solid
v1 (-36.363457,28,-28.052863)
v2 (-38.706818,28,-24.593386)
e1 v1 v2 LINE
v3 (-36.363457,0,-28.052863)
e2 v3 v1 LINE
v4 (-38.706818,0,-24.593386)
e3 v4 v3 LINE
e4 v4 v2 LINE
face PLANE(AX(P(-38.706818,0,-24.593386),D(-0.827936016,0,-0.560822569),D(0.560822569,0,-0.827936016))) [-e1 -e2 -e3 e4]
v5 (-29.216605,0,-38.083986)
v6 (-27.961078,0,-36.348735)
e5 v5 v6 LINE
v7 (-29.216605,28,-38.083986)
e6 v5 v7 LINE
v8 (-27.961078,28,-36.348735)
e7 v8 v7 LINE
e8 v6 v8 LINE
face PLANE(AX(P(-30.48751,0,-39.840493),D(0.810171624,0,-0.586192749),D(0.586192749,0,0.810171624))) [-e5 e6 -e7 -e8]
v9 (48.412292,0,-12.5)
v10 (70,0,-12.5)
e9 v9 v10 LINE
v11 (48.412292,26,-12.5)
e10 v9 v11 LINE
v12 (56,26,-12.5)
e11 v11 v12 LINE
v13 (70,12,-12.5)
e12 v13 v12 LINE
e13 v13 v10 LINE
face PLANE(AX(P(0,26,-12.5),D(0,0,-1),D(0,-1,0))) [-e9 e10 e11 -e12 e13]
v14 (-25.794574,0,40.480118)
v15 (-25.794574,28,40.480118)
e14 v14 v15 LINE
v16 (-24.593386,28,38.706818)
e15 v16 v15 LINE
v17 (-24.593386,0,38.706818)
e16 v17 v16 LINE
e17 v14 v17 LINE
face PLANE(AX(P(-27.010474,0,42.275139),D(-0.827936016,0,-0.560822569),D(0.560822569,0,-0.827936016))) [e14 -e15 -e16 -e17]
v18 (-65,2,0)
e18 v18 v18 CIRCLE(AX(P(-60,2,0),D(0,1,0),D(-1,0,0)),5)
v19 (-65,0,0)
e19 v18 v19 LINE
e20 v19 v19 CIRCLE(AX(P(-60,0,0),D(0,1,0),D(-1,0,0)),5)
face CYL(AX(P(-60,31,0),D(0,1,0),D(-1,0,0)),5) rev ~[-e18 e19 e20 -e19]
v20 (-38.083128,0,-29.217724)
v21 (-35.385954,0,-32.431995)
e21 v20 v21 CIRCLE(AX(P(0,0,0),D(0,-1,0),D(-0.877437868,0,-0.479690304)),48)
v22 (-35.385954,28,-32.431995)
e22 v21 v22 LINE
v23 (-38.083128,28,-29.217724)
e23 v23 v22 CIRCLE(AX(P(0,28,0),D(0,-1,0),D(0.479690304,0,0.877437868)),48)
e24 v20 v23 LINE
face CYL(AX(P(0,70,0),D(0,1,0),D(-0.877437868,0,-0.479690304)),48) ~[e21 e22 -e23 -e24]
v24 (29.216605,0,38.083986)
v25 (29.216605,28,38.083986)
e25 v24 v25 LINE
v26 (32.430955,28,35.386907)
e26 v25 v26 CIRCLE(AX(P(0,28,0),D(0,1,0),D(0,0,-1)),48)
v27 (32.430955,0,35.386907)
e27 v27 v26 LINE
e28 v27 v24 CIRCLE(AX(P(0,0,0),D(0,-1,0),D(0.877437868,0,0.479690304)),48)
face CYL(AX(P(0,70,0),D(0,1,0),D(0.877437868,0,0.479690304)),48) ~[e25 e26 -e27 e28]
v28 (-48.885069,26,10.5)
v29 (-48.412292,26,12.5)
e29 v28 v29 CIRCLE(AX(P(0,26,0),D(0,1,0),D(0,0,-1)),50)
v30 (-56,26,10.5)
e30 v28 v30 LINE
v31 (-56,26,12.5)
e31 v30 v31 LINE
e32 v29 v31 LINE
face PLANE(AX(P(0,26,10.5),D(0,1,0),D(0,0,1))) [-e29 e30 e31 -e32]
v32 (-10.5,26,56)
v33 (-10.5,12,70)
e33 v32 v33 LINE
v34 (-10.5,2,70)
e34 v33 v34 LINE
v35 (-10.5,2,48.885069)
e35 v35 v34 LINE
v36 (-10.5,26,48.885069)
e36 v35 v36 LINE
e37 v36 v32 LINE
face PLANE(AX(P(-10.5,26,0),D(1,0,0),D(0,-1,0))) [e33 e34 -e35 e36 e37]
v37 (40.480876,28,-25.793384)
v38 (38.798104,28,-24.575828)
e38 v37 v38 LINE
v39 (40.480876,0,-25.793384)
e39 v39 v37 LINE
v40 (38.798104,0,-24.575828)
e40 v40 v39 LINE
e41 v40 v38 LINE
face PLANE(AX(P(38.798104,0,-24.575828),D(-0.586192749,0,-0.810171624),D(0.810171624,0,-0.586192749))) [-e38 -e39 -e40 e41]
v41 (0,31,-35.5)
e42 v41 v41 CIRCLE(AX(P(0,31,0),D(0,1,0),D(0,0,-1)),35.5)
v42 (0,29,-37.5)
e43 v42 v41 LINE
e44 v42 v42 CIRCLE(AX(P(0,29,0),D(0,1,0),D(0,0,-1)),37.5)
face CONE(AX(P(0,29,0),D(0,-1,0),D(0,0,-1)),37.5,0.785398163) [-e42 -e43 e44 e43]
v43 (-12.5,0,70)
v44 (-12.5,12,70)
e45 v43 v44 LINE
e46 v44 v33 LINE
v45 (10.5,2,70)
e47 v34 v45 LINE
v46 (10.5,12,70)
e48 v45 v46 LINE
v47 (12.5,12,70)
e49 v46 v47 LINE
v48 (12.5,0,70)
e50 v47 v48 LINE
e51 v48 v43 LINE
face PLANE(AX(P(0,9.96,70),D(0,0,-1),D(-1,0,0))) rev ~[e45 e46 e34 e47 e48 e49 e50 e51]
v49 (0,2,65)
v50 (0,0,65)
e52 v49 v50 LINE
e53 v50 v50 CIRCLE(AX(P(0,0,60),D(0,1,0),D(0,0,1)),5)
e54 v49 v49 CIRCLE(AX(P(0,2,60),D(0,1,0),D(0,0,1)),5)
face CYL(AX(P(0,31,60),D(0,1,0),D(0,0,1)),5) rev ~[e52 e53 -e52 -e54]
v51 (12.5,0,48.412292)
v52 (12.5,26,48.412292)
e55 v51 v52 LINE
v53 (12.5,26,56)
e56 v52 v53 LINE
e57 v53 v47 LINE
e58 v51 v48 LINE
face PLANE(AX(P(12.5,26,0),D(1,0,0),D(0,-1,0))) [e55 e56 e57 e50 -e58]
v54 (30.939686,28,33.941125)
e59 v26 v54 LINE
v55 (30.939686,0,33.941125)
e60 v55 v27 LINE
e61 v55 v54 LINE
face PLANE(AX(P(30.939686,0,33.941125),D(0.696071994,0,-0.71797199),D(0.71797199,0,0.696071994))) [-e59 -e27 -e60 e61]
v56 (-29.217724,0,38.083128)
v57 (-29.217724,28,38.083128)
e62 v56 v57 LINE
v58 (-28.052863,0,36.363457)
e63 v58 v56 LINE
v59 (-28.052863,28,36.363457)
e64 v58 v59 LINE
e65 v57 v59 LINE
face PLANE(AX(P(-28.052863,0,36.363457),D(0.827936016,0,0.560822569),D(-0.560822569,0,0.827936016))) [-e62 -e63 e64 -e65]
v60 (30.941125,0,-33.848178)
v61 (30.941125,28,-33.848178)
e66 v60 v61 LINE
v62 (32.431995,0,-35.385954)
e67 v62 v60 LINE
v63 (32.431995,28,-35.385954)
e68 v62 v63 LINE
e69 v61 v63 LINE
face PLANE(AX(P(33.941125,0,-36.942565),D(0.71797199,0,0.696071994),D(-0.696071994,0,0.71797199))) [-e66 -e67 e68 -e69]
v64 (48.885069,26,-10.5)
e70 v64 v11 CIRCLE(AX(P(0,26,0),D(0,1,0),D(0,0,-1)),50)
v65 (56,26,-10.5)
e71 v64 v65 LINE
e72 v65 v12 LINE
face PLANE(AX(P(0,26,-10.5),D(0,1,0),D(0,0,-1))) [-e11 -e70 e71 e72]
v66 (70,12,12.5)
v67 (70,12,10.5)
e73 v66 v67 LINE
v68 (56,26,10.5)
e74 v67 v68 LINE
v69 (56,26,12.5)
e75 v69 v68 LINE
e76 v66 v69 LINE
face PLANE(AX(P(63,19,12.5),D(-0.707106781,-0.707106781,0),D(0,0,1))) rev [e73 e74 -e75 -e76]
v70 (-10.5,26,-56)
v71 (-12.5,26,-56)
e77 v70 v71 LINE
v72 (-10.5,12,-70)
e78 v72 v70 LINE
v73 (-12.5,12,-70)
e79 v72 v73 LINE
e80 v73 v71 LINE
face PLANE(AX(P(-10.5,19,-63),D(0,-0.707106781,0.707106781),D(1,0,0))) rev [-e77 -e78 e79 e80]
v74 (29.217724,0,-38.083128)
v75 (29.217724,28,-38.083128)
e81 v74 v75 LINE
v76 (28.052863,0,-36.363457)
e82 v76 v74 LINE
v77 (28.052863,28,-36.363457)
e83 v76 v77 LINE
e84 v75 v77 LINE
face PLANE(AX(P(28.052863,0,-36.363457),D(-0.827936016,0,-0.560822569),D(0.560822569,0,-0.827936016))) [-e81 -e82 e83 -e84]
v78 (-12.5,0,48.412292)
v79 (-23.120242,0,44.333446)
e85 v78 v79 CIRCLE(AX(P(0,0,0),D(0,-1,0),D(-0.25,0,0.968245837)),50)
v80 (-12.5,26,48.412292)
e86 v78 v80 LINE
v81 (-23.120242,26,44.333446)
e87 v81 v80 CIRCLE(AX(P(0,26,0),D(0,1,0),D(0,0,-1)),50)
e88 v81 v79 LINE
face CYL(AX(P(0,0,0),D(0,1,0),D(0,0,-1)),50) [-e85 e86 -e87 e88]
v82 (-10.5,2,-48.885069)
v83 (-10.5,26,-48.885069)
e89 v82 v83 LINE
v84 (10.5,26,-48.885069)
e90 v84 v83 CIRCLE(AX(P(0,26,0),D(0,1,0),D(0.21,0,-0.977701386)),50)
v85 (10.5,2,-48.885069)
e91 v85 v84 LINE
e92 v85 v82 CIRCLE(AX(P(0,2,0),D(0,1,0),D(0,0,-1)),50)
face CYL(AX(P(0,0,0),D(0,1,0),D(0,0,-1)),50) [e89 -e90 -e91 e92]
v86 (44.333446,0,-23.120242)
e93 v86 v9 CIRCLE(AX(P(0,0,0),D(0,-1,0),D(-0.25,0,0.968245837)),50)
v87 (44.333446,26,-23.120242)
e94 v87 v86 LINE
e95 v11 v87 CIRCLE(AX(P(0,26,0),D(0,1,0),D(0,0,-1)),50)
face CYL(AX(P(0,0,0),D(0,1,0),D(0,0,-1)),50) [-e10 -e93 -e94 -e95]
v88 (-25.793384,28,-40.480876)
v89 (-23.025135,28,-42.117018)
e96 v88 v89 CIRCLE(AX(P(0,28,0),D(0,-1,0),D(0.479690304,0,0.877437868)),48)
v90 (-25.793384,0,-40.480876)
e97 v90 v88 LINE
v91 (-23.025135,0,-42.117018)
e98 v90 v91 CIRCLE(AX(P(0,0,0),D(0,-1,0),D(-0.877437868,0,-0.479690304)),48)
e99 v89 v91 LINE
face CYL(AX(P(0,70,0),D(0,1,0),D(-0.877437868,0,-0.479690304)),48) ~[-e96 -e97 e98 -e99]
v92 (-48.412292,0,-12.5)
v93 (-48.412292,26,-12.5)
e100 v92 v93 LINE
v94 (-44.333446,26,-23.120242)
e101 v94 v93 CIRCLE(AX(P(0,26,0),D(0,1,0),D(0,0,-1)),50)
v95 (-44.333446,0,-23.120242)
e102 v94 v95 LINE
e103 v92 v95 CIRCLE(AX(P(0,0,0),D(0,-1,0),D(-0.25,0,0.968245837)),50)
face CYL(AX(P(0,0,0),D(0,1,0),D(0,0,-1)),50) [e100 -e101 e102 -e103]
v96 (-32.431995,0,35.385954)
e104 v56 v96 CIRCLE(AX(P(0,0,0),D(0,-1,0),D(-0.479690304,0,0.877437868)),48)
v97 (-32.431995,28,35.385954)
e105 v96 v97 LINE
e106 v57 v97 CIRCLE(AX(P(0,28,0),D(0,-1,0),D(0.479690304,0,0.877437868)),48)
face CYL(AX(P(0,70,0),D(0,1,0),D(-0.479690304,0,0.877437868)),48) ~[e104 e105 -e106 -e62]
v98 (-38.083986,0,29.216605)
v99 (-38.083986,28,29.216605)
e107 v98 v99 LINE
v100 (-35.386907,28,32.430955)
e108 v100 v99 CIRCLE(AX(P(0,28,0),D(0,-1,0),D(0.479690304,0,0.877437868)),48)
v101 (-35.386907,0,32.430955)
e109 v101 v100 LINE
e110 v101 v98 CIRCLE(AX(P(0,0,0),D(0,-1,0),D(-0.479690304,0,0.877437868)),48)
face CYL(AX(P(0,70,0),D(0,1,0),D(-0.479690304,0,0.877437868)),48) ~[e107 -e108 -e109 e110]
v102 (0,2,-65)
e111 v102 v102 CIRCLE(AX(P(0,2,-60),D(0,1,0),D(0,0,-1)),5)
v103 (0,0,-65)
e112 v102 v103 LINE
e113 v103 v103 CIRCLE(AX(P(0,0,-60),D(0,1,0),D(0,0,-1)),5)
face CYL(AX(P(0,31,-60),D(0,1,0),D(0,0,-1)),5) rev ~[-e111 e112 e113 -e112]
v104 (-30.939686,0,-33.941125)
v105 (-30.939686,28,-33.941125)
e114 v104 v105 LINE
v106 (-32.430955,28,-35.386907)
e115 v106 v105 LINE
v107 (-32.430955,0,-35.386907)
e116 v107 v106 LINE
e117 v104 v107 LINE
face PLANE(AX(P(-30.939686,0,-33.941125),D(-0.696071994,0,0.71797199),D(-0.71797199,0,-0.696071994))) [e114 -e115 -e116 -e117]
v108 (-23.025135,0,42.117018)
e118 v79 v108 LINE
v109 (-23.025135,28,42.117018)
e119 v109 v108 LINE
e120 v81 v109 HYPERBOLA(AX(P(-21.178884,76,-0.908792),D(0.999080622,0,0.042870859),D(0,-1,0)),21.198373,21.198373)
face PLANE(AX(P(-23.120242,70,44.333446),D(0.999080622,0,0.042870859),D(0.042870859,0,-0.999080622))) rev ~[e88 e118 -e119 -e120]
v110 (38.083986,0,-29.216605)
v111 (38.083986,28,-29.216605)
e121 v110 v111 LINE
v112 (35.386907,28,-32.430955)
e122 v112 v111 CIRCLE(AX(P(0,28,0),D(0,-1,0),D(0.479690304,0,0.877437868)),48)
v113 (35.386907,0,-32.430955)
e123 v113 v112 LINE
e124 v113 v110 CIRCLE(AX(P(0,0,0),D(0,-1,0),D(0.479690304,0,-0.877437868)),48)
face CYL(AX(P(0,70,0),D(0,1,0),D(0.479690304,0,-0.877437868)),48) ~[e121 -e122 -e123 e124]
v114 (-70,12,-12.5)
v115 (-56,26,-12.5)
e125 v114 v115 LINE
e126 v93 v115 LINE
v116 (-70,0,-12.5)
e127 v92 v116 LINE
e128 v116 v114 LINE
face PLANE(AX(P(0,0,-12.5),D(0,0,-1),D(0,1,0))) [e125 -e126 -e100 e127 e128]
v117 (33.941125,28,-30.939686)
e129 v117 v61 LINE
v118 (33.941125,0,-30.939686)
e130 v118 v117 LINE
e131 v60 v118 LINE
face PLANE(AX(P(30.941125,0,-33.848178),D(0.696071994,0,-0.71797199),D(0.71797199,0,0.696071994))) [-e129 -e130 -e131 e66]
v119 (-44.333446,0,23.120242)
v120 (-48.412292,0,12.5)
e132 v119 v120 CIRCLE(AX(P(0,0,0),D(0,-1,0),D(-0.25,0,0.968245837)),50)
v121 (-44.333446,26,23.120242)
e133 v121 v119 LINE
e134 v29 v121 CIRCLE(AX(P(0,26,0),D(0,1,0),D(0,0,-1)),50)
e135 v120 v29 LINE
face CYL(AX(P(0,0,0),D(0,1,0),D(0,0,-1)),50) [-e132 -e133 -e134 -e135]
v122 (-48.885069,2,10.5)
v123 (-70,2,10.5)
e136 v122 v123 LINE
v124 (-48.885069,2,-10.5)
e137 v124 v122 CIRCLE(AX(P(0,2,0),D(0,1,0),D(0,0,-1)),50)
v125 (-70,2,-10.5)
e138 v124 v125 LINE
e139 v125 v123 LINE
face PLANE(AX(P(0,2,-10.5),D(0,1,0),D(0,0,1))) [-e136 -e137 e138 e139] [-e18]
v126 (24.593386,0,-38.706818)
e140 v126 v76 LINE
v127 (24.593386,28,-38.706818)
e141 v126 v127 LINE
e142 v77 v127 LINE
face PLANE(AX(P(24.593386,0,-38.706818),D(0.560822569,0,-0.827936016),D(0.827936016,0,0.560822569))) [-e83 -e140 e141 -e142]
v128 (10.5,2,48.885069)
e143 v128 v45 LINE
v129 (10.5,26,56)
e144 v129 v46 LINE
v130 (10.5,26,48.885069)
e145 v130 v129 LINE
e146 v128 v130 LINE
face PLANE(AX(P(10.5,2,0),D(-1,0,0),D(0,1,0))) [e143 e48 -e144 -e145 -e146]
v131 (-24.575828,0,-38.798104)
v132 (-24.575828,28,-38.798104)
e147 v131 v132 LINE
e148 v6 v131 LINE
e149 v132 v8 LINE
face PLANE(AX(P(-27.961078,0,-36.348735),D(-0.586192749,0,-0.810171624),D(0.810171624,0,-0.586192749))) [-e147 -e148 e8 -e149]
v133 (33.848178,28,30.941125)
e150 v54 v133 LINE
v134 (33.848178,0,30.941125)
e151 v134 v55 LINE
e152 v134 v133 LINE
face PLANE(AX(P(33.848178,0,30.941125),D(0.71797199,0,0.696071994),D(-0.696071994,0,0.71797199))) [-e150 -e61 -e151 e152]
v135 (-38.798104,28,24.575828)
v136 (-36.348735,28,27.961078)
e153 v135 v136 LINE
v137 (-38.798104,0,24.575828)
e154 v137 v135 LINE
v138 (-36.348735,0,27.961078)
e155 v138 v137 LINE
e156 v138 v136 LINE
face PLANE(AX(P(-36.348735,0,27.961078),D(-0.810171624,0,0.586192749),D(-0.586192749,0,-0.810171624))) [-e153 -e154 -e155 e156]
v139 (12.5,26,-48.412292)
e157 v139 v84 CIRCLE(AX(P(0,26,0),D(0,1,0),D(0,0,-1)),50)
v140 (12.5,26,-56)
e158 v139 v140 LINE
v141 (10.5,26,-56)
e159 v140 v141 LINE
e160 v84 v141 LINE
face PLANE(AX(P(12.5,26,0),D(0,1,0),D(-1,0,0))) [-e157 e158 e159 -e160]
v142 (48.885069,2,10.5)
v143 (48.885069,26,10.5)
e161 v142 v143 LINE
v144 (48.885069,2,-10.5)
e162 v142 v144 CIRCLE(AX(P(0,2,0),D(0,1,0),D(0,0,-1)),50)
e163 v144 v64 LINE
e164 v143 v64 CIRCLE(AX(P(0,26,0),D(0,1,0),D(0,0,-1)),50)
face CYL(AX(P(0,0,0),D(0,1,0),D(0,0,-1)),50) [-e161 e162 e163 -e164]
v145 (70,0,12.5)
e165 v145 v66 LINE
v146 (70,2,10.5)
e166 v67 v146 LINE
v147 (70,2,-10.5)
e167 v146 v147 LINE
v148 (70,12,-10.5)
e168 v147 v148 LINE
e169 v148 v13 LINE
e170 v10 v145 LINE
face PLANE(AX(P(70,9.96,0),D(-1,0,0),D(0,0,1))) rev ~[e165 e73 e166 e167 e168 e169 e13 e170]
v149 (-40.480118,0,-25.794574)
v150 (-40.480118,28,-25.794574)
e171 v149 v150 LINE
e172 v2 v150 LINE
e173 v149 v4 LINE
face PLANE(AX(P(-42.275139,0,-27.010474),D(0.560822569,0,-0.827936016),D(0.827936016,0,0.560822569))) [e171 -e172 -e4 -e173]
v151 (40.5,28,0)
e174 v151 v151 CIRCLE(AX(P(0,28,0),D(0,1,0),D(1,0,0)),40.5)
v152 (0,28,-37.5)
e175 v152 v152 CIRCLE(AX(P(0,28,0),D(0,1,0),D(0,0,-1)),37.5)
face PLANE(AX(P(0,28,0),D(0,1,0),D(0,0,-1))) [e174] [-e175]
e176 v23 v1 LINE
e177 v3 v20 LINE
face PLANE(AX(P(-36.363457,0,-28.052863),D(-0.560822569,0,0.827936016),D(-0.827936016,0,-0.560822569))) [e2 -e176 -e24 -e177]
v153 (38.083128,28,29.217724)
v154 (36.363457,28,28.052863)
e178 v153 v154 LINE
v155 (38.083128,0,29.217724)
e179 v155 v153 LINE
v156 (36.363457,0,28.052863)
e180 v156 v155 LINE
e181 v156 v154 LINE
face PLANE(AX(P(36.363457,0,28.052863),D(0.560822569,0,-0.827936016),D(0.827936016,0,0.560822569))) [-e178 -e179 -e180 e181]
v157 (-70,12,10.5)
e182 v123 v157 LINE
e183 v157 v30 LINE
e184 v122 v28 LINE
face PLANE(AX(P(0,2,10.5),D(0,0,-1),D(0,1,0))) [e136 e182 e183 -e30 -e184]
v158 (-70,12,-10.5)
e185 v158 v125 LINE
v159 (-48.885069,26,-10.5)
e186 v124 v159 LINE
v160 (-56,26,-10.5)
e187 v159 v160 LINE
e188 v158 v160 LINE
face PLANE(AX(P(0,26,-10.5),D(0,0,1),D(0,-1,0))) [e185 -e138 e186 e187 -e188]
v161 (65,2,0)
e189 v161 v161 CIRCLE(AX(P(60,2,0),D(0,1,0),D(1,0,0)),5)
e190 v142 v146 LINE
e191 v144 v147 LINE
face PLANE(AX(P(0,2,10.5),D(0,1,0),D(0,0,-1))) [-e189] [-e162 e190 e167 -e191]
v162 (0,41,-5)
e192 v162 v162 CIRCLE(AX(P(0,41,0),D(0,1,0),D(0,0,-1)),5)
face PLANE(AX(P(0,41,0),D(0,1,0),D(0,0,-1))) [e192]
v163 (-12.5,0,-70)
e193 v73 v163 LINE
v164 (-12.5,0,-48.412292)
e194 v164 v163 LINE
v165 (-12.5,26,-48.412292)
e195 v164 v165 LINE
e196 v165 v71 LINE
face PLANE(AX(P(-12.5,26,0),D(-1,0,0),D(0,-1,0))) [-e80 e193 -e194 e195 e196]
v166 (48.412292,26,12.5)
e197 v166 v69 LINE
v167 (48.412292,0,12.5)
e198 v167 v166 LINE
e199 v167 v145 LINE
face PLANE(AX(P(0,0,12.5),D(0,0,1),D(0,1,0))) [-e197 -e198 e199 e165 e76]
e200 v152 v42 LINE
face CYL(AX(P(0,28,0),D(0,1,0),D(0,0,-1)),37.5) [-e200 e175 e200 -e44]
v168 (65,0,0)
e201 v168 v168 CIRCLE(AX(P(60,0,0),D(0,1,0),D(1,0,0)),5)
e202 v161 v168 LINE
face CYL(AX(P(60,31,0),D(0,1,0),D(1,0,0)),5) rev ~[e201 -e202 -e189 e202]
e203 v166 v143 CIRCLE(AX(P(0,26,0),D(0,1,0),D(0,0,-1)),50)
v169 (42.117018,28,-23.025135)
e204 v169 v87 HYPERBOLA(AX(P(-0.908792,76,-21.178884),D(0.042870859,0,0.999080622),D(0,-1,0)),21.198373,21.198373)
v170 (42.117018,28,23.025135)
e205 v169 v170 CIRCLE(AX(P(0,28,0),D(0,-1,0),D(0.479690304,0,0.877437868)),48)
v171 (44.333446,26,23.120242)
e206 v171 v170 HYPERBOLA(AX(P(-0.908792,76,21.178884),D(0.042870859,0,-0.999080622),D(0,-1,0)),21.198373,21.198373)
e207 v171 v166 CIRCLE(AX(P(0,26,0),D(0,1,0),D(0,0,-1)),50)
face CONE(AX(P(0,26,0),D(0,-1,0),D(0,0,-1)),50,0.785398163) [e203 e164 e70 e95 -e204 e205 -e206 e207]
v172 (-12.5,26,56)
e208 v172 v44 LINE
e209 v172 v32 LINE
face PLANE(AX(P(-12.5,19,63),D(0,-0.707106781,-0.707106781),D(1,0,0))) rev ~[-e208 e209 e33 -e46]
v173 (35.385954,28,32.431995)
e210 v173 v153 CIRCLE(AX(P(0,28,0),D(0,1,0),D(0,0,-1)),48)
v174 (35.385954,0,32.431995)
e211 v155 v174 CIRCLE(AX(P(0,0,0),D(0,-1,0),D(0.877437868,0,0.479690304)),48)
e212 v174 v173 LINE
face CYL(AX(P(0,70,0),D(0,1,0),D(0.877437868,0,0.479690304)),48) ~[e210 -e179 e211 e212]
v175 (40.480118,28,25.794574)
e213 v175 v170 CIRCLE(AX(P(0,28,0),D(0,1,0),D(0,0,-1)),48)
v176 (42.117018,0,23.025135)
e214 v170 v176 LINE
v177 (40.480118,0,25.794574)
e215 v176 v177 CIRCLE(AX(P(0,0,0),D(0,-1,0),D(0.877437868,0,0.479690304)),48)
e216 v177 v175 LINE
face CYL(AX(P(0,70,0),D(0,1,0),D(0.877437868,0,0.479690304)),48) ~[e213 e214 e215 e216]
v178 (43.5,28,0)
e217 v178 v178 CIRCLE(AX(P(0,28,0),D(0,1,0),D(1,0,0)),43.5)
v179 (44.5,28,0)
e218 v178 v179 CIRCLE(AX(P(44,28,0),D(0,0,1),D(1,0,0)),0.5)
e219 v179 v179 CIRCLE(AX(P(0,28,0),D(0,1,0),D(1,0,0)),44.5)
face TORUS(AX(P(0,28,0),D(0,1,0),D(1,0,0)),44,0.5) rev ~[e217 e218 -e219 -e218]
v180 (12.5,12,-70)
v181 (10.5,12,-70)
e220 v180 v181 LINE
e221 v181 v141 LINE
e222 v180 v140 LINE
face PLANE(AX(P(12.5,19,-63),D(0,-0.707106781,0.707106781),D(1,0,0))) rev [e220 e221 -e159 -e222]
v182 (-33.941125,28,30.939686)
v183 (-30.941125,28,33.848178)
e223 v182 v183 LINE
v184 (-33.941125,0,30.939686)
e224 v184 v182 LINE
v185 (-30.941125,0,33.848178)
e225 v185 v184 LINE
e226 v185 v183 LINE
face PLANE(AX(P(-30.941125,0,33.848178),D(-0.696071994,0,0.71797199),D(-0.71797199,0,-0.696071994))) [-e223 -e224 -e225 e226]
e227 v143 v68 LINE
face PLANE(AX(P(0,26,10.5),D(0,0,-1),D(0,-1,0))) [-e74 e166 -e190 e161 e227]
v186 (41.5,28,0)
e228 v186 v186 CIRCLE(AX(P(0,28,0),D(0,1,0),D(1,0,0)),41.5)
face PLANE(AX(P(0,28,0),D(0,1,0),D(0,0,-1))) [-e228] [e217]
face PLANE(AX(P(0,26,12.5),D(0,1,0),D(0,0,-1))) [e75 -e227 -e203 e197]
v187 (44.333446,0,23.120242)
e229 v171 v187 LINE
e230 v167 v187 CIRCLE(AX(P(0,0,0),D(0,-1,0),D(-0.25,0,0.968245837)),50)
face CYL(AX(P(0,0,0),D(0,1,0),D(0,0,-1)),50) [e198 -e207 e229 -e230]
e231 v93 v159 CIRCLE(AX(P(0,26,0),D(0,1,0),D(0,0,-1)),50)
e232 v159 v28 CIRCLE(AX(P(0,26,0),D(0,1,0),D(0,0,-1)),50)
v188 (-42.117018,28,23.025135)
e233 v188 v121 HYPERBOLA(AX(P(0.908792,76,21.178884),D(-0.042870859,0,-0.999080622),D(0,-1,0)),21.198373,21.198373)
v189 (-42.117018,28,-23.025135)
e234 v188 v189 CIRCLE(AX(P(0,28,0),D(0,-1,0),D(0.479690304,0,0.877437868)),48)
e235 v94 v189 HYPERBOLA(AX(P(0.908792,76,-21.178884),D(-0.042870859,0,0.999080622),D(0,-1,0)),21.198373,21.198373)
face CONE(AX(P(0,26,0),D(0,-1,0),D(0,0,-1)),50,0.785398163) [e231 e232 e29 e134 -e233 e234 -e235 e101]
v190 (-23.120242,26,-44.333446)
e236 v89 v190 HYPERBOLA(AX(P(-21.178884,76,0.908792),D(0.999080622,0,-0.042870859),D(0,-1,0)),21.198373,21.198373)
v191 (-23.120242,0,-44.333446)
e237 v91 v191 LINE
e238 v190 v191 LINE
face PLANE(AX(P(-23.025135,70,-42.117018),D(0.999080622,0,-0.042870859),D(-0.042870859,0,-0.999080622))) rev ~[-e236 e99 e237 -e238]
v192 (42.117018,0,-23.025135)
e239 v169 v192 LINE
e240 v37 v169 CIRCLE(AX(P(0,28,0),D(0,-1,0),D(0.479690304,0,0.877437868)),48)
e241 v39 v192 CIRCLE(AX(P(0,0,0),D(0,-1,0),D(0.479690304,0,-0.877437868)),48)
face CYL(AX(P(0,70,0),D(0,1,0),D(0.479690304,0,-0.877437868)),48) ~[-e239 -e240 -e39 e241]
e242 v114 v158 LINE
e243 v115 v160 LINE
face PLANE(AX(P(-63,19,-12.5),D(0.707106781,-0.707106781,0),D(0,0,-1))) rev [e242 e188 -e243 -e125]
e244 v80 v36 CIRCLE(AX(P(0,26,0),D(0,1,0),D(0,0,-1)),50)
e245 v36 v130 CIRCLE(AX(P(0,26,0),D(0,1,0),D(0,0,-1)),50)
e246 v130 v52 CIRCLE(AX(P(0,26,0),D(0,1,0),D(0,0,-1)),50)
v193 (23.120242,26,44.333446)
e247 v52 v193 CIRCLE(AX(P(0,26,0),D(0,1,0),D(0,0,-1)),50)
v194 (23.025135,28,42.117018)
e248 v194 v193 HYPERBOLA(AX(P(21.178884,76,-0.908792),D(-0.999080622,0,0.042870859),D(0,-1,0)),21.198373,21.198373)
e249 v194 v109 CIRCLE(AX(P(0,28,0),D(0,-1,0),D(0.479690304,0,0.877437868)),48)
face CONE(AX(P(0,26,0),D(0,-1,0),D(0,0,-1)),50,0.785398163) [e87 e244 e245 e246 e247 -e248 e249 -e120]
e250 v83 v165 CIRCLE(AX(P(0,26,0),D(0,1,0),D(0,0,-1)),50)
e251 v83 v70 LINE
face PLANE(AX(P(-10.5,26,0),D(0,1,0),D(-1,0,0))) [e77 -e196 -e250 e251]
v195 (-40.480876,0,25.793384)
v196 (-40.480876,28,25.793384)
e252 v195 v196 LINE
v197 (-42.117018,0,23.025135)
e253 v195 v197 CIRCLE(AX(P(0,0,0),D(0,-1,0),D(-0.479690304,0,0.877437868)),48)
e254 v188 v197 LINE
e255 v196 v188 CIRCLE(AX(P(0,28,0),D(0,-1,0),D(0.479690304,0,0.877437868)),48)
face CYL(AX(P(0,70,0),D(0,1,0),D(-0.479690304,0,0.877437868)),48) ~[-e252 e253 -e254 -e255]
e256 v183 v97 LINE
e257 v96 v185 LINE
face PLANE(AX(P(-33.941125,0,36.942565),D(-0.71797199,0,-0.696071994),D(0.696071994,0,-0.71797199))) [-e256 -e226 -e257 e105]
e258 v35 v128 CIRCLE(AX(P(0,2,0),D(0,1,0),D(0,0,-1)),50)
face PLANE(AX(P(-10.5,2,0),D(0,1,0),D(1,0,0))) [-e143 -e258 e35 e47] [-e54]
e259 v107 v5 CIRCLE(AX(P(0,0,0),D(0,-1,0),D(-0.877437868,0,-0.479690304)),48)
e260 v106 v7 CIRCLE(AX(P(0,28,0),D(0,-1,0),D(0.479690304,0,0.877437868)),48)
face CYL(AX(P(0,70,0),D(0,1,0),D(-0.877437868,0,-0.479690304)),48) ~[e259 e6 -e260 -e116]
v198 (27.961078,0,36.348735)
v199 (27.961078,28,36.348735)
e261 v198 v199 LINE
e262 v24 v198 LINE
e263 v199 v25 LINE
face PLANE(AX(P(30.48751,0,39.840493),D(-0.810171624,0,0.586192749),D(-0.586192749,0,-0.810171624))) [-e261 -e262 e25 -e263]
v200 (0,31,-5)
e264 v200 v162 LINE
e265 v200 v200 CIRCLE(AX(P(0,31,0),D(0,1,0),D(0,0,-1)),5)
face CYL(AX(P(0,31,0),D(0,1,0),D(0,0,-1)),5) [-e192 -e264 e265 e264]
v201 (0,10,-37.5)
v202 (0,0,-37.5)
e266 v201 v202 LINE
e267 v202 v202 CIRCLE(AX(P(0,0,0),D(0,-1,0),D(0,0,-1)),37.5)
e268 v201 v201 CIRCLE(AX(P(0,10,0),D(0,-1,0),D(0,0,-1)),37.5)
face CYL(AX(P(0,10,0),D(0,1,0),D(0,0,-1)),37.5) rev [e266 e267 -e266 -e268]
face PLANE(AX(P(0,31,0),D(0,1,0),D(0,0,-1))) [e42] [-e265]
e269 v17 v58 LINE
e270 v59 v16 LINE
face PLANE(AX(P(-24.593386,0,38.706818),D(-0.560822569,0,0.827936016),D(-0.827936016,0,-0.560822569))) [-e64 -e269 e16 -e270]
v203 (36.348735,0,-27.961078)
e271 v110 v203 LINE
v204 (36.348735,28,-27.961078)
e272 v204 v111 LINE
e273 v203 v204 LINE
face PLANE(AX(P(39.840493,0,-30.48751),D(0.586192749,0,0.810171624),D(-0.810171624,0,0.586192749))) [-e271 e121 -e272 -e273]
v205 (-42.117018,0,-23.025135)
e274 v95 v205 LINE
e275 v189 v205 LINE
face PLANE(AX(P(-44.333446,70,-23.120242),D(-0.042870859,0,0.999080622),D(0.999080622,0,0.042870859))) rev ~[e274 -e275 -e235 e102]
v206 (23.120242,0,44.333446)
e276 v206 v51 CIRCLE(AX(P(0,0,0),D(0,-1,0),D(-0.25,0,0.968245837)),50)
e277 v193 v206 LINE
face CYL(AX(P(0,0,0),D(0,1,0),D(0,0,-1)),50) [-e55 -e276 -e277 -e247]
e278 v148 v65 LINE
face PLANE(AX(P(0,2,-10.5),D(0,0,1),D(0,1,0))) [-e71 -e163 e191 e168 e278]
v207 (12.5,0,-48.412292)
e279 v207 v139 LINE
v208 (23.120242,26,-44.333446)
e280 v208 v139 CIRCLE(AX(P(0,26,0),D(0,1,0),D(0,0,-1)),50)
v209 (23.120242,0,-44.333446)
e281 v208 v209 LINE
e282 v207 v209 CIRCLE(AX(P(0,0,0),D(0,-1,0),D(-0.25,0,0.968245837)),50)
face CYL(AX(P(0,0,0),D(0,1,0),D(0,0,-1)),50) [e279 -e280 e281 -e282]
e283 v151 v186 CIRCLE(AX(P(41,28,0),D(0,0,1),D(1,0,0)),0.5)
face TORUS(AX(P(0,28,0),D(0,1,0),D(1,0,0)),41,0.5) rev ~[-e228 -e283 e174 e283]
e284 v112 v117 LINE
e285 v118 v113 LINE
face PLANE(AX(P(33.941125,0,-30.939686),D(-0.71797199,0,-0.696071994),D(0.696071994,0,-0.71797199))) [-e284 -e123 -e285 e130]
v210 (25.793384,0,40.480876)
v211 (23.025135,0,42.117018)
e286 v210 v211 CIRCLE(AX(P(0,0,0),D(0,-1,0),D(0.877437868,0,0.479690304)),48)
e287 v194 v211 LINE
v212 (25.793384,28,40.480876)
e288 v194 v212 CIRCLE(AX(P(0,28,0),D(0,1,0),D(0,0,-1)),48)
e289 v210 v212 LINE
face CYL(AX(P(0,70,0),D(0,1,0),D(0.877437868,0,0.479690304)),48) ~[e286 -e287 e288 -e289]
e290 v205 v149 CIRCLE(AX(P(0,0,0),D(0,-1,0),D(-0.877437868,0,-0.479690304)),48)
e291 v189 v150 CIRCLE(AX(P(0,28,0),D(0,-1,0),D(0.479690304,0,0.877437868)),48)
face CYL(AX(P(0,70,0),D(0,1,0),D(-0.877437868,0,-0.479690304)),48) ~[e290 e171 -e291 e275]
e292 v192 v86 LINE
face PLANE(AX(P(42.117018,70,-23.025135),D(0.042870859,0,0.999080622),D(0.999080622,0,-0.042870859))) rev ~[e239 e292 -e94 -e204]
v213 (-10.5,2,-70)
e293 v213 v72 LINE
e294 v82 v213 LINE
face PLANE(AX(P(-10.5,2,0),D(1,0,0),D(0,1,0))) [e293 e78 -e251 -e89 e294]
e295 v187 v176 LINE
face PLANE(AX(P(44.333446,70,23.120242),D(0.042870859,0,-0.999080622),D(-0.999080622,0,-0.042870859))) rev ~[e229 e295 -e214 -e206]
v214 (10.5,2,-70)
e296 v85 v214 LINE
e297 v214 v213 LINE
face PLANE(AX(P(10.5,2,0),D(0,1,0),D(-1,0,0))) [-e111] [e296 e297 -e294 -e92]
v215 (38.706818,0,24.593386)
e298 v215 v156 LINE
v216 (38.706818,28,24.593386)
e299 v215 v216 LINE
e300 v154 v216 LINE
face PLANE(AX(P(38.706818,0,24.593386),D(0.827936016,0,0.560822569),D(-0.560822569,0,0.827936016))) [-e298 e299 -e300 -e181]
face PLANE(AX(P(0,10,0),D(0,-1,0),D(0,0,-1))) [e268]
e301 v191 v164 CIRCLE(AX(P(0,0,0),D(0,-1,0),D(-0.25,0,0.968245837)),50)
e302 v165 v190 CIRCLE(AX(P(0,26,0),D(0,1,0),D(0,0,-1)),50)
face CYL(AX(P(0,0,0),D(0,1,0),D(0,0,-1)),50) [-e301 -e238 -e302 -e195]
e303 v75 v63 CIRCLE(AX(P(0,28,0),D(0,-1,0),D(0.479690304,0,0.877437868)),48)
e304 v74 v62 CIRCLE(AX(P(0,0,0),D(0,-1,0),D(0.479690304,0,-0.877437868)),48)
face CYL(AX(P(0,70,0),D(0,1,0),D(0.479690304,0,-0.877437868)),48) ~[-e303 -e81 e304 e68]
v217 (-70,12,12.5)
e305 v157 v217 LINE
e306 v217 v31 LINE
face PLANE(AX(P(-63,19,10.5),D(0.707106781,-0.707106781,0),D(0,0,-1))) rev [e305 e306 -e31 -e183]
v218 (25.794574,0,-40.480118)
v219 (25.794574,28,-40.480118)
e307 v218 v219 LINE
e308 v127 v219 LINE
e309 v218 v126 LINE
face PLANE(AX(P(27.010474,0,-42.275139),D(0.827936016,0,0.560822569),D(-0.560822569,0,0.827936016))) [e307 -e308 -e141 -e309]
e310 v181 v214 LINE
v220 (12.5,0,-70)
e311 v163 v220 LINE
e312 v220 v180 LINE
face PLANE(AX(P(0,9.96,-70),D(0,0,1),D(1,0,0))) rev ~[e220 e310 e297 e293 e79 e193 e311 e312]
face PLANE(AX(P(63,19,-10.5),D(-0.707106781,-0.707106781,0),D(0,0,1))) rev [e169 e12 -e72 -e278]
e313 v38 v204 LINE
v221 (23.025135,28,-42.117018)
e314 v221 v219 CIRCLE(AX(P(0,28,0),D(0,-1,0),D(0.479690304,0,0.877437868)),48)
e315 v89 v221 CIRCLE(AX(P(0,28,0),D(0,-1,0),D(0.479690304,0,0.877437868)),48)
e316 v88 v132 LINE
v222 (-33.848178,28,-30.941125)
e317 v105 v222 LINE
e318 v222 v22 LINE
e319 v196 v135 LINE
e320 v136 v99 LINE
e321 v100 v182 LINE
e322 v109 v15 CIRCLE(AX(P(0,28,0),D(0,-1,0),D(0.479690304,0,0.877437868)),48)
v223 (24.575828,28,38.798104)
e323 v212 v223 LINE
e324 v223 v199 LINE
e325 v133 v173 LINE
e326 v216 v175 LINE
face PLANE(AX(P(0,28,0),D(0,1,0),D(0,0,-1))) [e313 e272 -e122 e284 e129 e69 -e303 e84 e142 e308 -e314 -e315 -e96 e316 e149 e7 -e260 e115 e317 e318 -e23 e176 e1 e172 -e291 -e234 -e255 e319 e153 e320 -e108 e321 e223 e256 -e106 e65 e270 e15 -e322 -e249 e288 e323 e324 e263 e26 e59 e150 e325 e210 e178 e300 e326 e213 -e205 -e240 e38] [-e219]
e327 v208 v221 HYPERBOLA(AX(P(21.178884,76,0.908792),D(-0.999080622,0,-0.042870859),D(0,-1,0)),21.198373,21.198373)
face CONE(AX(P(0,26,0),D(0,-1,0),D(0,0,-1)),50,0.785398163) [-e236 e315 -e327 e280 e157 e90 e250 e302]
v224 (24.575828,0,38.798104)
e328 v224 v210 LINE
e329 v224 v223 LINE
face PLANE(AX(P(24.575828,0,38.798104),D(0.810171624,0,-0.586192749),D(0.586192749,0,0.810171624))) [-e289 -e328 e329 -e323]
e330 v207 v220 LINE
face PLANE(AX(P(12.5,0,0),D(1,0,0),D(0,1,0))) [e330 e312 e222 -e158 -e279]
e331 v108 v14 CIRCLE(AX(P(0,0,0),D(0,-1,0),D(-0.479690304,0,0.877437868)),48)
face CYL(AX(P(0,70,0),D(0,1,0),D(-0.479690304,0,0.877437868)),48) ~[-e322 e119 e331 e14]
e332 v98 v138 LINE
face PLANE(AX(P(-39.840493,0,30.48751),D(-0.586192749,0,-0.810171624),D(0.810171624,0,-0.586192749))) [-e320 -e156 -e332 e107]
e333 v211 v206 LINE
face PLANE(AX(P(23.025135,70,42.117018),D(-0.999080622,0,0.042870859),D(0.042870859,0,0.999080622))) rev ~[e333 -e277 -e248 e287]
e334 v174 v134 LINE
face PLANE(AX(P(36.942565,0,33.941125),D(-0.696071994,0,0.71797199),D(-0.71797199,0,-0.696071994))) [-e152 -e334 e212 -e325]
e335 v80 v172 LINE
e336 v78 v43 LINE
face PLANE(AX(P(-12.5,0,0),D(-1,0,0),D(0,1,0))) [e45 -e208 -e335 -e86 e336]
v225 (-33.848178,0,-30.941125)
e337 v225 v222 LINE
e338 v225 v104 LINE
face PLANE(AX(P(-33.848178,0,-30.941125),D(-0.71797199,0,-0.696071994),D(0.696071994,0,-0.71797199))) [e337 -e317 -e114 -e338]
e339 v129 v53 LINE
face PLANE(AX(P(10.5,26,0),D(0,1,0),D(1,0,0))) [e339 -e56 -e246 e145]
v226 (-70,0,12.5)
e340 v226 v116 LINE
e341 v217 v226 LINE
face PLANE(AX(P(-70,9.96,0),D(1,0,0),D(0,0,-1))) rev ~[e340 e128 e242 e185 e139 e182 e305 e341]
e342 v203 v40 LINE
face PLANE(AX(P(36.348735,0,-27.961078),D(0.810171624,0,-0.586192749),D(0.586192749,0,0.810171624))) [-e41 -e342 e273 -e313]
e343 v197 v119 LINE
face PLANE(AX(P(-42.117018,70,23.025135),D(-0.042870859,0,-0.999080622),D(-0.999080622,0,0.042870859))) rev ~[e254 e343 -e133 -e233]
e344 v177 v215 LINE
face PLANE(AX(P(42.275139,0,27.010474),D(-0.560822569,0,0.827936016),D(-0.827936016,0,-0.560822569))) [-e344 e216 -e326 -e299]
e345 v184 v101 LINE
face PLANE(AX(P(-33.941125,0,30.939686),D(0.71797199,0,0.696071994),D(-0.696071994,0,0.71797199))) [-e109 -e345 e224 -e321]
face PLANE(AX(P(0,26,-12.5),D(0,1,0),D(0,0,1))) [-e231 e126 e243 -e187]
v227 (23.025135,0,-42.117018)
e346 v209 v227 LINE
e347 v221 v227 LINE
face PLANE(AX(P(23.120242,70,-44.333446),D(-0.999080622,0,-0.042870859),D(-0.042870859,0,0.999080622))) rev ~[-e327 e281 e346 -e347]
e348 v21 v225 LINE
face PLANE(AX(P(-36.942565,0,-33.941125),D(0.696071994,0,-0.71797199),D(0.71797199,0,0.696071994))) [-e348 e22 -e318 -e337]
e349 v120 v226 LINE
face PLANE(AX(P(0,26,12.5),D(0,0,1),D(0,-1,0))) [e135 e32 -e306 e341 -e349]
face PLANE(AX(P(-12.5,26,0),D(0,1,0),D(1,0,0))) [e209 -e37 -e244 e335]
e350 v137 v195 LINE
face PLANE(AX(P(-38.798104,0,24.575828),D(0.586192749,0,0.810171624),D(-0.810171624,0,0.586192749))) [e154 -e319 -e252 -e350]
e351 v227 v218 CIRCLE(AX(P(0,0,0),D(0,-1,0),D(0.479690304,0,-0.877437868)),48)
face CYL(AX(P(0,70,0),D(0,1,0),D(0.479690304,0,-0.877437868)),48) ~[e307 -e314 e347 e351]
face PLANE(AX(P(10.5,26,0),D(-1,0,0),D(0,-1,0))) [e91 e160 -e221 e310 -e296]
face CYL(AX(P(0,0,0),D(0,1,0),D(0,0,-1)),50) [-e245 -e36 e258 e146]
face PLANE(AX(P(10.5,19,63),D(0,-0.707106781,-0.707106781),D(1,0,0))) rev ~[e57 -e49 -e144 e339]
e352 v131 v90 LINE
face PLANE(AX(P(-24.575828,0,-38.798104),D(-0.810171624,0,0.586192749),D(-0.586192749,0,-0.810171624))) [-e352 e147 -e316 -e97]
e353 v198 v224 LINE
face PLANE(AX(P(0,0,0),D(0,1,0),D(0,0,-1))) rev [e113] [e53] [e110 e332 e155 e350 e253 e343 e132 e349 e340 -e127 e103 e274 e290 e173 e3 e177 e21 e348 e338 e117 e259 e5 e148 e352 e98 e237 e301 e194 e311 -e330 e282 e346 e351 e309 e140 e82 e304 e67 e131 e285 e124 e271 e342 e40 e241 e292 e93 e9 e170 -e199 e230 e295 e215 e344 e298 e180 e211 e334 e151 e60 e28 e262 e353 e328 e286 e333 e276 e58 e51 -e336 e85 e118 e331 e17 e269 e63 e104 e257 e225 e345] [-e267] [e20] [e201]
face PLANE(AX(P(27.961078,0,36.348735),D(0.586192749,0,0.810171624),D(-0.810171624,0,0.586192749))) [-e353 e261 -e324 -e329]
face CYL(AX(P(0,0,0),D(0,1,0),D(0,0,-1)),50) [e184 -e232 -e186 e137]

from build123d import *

# Parameters (mm, degrees)
CHAMFER1_SIZE                   = 2
BOSS_EXTRUDE1_DEPTH             = 70
CHAMFER2_SIZE                   = 14
SKETCH3_R                       = 5
CUT_EXTRUDE1_DEPTH              = 70
CIRPATTERN1_COUNT               = 4
CHAMFER2_OF_CIRPATTERN1_SIZE    = 14
CUT_EXTRUDE2_START              = 70
CUT_EXTRUDE2_DEPTH              = 70
CUT_EXTRUDE3_DEPTH              = 70
CIRPATTERN2_COUNT               = 2
CIRPATTERN2_ANGLE               = 10
CIRPATTERN2_THE_OTHER_WAY_COUNT = 2
CIRPATTERN2_THE_OTHER_WAY_ANGLE = 10
CIRPATTERN3_COUNT               = 4
CIRPATTERN3_COPY_1_DEPTH        = 70
CIRPATTERN3_COPY_2_DEPTH        = 70
CIRPATTERN3_COPY_3_DEPTH        = 70
CIRPATTERN3_COPY_4_DEPTH        = 70
CIRPATTERN3_COPY_5_DEPTH        = 70
CIRPATTERN3_COPY_6_DEPTH        = 70
CUT_SWEEP2_PROFILE_R            = 0.5
CUT_SWEEP3_PROFILE_R            = 0.5
CUT_EXTRUDE4_START              = -10
SKETCH27_R                      = 37.5
CUT_EXTRUDE4_DEPTH              = 10


with BuildPart() as part:
    # Sketch1 → Revolve1 (revolve)
    with BuildSketch(Plane.XY, mode=Mode.PRIVATE) as revolve1_sk:
        Polygon((0, 0), (-50, 0), (-50, 28), (-37.5, 28), (-37.5, 31), (-5, 31), (-5, 41), (0, 41), align=None)
    revolve(revolve1_sk.sketch.rotate(Axis((0, 0, 0), (0, 1, 0)), 270), axis=Axis((0, 0, 0), (0, 1, 0)))

    # Chamfer1
    chamfer1_edges = [part.edges().sort_by_distance(p)[0] for p in [
        (0, 31, 37.5),
        (0, 28, 50),
    ]]
    chamfer(chamfer1_edges, length=CHAMFER1_SIZE)

    # Sketch2 → Boss-Extrude1 (add)
    with BuildSketch(Plane.XY):
        Polygon((12.5, 0), (-12.5, 0), (-12.5, 26), (-10.5, 26), (-10.5, 2), (10.5, 2), (10.5, 26), (12.5, 26), align=None)
    boss_extrude1 = extrude(amount=BOSS_EXTRUDE1_DEPTH)

    # Chamfer2
    chamfer2_edges = [part.edges().sort_by_distance(p)[0] for p in [
        (-11.5, 26, 70),
        (11.5, 26, 70),
    ]]
    chamfer(chamfer2_edges, length=CHAMFER2_SIZE)

    # Sketch3 → Cut-Extrude1 (cut)
    with BuildSketch(Plane(origin=(0, 31, 0), x_dir=(1, 0, 0), z_dir=(0, 1, 0))):
        with Locations(Location((0, -60, 0), (0, 0, 270))):
            Circle(SKETCH3_R)
    cut_extrude1 = extrude(amount=-CUT_EXTRUDE1_DEPTH, mode=Mode.SUBTRACT)

    # CirPattern1: Boss-Extrude1, Cut-Extrude1 ×4 about axis
    cirpattern1_axis = Axis((0, 0, 0), (0, 1, 0))
    add([boss_extrude1.rotate(cirpattern1_axis, i * 360 / CIRPATTERN1_COUNT) for i in range(1, CIRPATTERN1_COUNT)])
    add([cut_extrude1.rotate(cirpattern1_axis, i * 360 / CIRPATTERN1_COUNT) for i in range(1, CIRPATTERN1_COUNT)], mode=Mode.SUBTRACT)

    # Chamfer2 of CirPattern1
    chamfer2_of_cirpattern1_edges = [part.edges().sort_by_distance(p)[0] for p in [
        (70, 26, 11.5),
        (70, 26, -11.5),
        (11.5, 26, -70),
        (-11.5, 26, -70),
        (-70, 26, -11.5),
        (-70, 26, 11.5),
    ]]
    chamfer(chamfer2_of_cirpattern1_edges, length=CHAMFER2_OF_CIRPATTERN1_SIZE)

    # Sketch4 → Cut-Extrude2 (cut)
    with BuildSketch(Plane(origin=(0, 0, 0), x_dir=(1, 0, 0), z_dir=(0, 1, 0)).offset(CUT_EXTRUDE2_START)):
        with BuildLine():
            Line((23.02513458, -42.117017672), (23.12024219, -44.333445626))
            ThreePointArc((23.12024219, -44.333445626), (35.355339059, -35.355339059), (44.333445626, -23.12024219))
            Line((44.333445626, -23.12024219), (42.117017672, -23.02513458))
            ThreePointArc((42.117017672, -23.02513458), (33.941125497, -33.941125497), (23.02513458, -42.117017672))
        make_face()
    cut_extrude2 = extrude(amount=-CUT_EXTRUDE2_DEPTH, mode=Mode.SUBTRACT)

    # Sketch5 → Cut-Extrude3 (cut)
    with BuildSketch(Plane(origin=(0, 0, 0), x_dir=(1, 0, 0), z_dir=(0, 1, 0))):
        Polygon((30.939685977, -33.941125497), (34.034072747, -36.941125497), (36.942565017, -33.941125497), (33.848178247, -30.941125497), align=None)
    cut_extrude3 = extrude(amount=CUT_EXTRUDE3_DEPTH, mode=Mode.SUBTRACT)

    # CirPattern2: Cut-Extrude3 ×2 about axis
    cirpattern2_axis = Axis((0, 0, 0), (0, 1, 0))
    for i in range(1, CIRPATTERN2_COUNT):
        add(cut_extrude3.rotate(cirpattern2_axis, i * CIRPATTERN2_ANGLE / (CIRPATTERN2_COUNT - 1)), mode=Mode.SUBTRACT)

    # CirPattern2 the other way: Cut-Extrude3 ×2 about axis
    cirpattern2_the_other_way_axis = Axis((0, 0, 0), (0, -1, 0))
    for i in range(1, CIRPATTERN2_THE_OTHER_WAY_COUNT):
        add(cut_extrude3.rotate(cirpattern2_the_other_way_axis, i * CIRPATTERN2_THE_OTHER_WAY_ANGLE / (CIRPATTERN2_THE_OTHER_WAY_COUNT - 1)), mode=Mode.SUBTRACT)

    # CirPattern3: Cut-Extrude2, Cut-Extrude3 ×4 about axis
    cirpattern3_axis = Axis((0, 0, 0), (0, 1, 0))
    add([cut_extrude2.rotate(cirpattern3_axis, i * 360 / CIRPATTERN3_COUNT) for i in range(1, CIRPATTERN3_COUNT)], mode=Mode.SUBTRACT)
    add([cut_extrude3.rotate(cirpattern3_axis, i * 360 / CIRPATTERN3_COUNT) for i in range(1, CIRPATTERN3_COUNT)], mode=Mode.SUBTRACT)

    # CirPattern3 copy 1 sketch → CirPattern3 copy 1 (cut)
    with BuildSketch(Plane(origin=(0, 0, 0), x_dir=(-0.1736481776669307, 0, -0.984807753012208), z_dir=(0, 1, 0))):
        Polygon((30.939685977, -33.941125497), (34.034072747, -36.941125497), (36.942565017, -33.941125497), (33.848178247, -30.941125497), align=None)
    extrude(amount=CIRPATTERN3_COPY_1_DEPTH, mode=Mode.SUBTRACT)

    # CirPattern3 copy 2 sketch → CirPattern3 copy 2 (cut)
    with BuildSketch(Plane(origin=(0, 0, 0), x_dir=(-0.984807753012208, 0, 0.17364817766693064), z_dir=(0, 1, 0))):
        Polygon((30.939685977, -33.941125497), (34.034072747, -36.941125497), (36.942565017, -33.941125497), (33.848178247, -30.941125497), align=None)
    extrude(amount=CIRPATTERN3_COPY_2_DEPTH, mode=Mode.SUBTRACT)

    # CirPattern3 copy 3 sketch → CirPattern3 copy 3 (cut)
    with BuildSketch(Plane(origin=(0, 0, 0), x_dir=(0.17364817766693055, 0, 0.984807753012208), z_dir=(0, 1, 0))):
        Polygon((30.939685977, -33.941125497), (34.034072747, -36.941125497), (36.942565017, -33.941125497), (33.848178247, -30.941125497), align=None)
    extrude(amount=CIRPATTERN3_COPY_3_DEPTH, mode=Mode.SUBTRACT)

    # CirPattern3 copy 4 sketch → CirPattern3 copy 4 (cut)
    with BuildSketch(Plane(origin=(0, 0, 0), x_dir=(0.1736481776669308, 0, -0.984807753012208), z_dir=(0, 1, 0))):
        Polygon((30.939685977, -33.941125497), (34.034072747, -36.941125497), (36.942565017, -33.941125497), (33.848178247, -30.941125497), align=None)
    extrude(amount=CIRPATTERN3_COPY_4_DEPTH, mode=Mode.SUBTRACT)

    # CirPattern3 copy 5 sketch → CirPattern3 copy 5 (cut)
    with BuildSketch(Plane(origin=(0, 0, 0), x_dir=(-0.984807753012208, 0, -0.17364817766693086), z_dir=(0, 1, 0))):
        Polygon((30.939685977, -33.941125497), (34.034072747, -36.941125497), (36.942565017, -33.941125497), (33.848178247, -30.941125497), align=None)
    extrude(amount=CIRPATTERN3_COPY_5_DEPTH, mode=Mode.SUBTRACT)

    # CirPattern3 copy 6 sketch → CirPattern3 copy 6 (cut)
    with BuildSketch(Plane(origin=(0, 0, 0), x_dir=(-0.17364817766693094, 0, 0.984807753012208), z_dir=(0, 1, 0))):
        Polygon((30.939685977, -33.941125497), (34.034072747, -36.941125497), (36.942565017, -33.941125497), (33.848178247, -30.941125497), align=None)
    extrude(amount=CIRPATTERN3_COPY_6_DEPTH, mode=Mode.SUBTRACT)

    # Cut-Sweep2: sweep along a path in Sketch15
    with BuildLine(Plane(origin=(0, 28, 0), x_dir=(1, 0, 0), z_dir=(0, 1, 0))) as cut_sweep2_path:
        CenterArc((0, 0), 44, 0, 360)
    # Cut-Sweep2 profile (on start of the path) → Cut-Sweep2 (sweep, cut)
    with BuildSketch(Plane(origin=(44, 28, 0), x_dir=(-1, 0, 0), z_dir=(0, 0, -1))):
        Circle(CUT_SWEEP2_PROFILE_R)
    sweep(path=cut_sweep2_path.line, mode=Mode.SUBTRACT)

    # Cut-Sweep3: sweep along a path in Sketch14
    with BuildLine(Plane(origin=(0, 28, 0), x_dir=(1, 0, 0), z_dir=(0, 1, 0))) as cut_sweep3_path:
        CenterArc((0, 0), 41, 0, 360)
    # Cut-Sweep3 profile (on start of the path) → Cut-Sweep3 (sweep, cut)
    with BuildSketch(Plane(origin=(41, 28, 0), x_dir=(-1, 0, 0), z_dir=(0, 0, -1))):
        Circle(CUT_SWEEP3_PROFILE_R)
    sweep(path=cut_sweep3_path.line, mode=Mode.SUBTRACT)

    # Sketch27 → Cut-Extrude4 (cut)
    with BuildSketch(Plane.XZ.offset(CUT_EXTRUDE4_START)):
        with Locations(Location((0, 0, 0), (0, 0, 270))):
            Circle(SKETCH27_R)
    extrude(amount=CUT_EXTRUDE4_DEPTH, mode=Mode.SUBTRACT)


solid = part.part
